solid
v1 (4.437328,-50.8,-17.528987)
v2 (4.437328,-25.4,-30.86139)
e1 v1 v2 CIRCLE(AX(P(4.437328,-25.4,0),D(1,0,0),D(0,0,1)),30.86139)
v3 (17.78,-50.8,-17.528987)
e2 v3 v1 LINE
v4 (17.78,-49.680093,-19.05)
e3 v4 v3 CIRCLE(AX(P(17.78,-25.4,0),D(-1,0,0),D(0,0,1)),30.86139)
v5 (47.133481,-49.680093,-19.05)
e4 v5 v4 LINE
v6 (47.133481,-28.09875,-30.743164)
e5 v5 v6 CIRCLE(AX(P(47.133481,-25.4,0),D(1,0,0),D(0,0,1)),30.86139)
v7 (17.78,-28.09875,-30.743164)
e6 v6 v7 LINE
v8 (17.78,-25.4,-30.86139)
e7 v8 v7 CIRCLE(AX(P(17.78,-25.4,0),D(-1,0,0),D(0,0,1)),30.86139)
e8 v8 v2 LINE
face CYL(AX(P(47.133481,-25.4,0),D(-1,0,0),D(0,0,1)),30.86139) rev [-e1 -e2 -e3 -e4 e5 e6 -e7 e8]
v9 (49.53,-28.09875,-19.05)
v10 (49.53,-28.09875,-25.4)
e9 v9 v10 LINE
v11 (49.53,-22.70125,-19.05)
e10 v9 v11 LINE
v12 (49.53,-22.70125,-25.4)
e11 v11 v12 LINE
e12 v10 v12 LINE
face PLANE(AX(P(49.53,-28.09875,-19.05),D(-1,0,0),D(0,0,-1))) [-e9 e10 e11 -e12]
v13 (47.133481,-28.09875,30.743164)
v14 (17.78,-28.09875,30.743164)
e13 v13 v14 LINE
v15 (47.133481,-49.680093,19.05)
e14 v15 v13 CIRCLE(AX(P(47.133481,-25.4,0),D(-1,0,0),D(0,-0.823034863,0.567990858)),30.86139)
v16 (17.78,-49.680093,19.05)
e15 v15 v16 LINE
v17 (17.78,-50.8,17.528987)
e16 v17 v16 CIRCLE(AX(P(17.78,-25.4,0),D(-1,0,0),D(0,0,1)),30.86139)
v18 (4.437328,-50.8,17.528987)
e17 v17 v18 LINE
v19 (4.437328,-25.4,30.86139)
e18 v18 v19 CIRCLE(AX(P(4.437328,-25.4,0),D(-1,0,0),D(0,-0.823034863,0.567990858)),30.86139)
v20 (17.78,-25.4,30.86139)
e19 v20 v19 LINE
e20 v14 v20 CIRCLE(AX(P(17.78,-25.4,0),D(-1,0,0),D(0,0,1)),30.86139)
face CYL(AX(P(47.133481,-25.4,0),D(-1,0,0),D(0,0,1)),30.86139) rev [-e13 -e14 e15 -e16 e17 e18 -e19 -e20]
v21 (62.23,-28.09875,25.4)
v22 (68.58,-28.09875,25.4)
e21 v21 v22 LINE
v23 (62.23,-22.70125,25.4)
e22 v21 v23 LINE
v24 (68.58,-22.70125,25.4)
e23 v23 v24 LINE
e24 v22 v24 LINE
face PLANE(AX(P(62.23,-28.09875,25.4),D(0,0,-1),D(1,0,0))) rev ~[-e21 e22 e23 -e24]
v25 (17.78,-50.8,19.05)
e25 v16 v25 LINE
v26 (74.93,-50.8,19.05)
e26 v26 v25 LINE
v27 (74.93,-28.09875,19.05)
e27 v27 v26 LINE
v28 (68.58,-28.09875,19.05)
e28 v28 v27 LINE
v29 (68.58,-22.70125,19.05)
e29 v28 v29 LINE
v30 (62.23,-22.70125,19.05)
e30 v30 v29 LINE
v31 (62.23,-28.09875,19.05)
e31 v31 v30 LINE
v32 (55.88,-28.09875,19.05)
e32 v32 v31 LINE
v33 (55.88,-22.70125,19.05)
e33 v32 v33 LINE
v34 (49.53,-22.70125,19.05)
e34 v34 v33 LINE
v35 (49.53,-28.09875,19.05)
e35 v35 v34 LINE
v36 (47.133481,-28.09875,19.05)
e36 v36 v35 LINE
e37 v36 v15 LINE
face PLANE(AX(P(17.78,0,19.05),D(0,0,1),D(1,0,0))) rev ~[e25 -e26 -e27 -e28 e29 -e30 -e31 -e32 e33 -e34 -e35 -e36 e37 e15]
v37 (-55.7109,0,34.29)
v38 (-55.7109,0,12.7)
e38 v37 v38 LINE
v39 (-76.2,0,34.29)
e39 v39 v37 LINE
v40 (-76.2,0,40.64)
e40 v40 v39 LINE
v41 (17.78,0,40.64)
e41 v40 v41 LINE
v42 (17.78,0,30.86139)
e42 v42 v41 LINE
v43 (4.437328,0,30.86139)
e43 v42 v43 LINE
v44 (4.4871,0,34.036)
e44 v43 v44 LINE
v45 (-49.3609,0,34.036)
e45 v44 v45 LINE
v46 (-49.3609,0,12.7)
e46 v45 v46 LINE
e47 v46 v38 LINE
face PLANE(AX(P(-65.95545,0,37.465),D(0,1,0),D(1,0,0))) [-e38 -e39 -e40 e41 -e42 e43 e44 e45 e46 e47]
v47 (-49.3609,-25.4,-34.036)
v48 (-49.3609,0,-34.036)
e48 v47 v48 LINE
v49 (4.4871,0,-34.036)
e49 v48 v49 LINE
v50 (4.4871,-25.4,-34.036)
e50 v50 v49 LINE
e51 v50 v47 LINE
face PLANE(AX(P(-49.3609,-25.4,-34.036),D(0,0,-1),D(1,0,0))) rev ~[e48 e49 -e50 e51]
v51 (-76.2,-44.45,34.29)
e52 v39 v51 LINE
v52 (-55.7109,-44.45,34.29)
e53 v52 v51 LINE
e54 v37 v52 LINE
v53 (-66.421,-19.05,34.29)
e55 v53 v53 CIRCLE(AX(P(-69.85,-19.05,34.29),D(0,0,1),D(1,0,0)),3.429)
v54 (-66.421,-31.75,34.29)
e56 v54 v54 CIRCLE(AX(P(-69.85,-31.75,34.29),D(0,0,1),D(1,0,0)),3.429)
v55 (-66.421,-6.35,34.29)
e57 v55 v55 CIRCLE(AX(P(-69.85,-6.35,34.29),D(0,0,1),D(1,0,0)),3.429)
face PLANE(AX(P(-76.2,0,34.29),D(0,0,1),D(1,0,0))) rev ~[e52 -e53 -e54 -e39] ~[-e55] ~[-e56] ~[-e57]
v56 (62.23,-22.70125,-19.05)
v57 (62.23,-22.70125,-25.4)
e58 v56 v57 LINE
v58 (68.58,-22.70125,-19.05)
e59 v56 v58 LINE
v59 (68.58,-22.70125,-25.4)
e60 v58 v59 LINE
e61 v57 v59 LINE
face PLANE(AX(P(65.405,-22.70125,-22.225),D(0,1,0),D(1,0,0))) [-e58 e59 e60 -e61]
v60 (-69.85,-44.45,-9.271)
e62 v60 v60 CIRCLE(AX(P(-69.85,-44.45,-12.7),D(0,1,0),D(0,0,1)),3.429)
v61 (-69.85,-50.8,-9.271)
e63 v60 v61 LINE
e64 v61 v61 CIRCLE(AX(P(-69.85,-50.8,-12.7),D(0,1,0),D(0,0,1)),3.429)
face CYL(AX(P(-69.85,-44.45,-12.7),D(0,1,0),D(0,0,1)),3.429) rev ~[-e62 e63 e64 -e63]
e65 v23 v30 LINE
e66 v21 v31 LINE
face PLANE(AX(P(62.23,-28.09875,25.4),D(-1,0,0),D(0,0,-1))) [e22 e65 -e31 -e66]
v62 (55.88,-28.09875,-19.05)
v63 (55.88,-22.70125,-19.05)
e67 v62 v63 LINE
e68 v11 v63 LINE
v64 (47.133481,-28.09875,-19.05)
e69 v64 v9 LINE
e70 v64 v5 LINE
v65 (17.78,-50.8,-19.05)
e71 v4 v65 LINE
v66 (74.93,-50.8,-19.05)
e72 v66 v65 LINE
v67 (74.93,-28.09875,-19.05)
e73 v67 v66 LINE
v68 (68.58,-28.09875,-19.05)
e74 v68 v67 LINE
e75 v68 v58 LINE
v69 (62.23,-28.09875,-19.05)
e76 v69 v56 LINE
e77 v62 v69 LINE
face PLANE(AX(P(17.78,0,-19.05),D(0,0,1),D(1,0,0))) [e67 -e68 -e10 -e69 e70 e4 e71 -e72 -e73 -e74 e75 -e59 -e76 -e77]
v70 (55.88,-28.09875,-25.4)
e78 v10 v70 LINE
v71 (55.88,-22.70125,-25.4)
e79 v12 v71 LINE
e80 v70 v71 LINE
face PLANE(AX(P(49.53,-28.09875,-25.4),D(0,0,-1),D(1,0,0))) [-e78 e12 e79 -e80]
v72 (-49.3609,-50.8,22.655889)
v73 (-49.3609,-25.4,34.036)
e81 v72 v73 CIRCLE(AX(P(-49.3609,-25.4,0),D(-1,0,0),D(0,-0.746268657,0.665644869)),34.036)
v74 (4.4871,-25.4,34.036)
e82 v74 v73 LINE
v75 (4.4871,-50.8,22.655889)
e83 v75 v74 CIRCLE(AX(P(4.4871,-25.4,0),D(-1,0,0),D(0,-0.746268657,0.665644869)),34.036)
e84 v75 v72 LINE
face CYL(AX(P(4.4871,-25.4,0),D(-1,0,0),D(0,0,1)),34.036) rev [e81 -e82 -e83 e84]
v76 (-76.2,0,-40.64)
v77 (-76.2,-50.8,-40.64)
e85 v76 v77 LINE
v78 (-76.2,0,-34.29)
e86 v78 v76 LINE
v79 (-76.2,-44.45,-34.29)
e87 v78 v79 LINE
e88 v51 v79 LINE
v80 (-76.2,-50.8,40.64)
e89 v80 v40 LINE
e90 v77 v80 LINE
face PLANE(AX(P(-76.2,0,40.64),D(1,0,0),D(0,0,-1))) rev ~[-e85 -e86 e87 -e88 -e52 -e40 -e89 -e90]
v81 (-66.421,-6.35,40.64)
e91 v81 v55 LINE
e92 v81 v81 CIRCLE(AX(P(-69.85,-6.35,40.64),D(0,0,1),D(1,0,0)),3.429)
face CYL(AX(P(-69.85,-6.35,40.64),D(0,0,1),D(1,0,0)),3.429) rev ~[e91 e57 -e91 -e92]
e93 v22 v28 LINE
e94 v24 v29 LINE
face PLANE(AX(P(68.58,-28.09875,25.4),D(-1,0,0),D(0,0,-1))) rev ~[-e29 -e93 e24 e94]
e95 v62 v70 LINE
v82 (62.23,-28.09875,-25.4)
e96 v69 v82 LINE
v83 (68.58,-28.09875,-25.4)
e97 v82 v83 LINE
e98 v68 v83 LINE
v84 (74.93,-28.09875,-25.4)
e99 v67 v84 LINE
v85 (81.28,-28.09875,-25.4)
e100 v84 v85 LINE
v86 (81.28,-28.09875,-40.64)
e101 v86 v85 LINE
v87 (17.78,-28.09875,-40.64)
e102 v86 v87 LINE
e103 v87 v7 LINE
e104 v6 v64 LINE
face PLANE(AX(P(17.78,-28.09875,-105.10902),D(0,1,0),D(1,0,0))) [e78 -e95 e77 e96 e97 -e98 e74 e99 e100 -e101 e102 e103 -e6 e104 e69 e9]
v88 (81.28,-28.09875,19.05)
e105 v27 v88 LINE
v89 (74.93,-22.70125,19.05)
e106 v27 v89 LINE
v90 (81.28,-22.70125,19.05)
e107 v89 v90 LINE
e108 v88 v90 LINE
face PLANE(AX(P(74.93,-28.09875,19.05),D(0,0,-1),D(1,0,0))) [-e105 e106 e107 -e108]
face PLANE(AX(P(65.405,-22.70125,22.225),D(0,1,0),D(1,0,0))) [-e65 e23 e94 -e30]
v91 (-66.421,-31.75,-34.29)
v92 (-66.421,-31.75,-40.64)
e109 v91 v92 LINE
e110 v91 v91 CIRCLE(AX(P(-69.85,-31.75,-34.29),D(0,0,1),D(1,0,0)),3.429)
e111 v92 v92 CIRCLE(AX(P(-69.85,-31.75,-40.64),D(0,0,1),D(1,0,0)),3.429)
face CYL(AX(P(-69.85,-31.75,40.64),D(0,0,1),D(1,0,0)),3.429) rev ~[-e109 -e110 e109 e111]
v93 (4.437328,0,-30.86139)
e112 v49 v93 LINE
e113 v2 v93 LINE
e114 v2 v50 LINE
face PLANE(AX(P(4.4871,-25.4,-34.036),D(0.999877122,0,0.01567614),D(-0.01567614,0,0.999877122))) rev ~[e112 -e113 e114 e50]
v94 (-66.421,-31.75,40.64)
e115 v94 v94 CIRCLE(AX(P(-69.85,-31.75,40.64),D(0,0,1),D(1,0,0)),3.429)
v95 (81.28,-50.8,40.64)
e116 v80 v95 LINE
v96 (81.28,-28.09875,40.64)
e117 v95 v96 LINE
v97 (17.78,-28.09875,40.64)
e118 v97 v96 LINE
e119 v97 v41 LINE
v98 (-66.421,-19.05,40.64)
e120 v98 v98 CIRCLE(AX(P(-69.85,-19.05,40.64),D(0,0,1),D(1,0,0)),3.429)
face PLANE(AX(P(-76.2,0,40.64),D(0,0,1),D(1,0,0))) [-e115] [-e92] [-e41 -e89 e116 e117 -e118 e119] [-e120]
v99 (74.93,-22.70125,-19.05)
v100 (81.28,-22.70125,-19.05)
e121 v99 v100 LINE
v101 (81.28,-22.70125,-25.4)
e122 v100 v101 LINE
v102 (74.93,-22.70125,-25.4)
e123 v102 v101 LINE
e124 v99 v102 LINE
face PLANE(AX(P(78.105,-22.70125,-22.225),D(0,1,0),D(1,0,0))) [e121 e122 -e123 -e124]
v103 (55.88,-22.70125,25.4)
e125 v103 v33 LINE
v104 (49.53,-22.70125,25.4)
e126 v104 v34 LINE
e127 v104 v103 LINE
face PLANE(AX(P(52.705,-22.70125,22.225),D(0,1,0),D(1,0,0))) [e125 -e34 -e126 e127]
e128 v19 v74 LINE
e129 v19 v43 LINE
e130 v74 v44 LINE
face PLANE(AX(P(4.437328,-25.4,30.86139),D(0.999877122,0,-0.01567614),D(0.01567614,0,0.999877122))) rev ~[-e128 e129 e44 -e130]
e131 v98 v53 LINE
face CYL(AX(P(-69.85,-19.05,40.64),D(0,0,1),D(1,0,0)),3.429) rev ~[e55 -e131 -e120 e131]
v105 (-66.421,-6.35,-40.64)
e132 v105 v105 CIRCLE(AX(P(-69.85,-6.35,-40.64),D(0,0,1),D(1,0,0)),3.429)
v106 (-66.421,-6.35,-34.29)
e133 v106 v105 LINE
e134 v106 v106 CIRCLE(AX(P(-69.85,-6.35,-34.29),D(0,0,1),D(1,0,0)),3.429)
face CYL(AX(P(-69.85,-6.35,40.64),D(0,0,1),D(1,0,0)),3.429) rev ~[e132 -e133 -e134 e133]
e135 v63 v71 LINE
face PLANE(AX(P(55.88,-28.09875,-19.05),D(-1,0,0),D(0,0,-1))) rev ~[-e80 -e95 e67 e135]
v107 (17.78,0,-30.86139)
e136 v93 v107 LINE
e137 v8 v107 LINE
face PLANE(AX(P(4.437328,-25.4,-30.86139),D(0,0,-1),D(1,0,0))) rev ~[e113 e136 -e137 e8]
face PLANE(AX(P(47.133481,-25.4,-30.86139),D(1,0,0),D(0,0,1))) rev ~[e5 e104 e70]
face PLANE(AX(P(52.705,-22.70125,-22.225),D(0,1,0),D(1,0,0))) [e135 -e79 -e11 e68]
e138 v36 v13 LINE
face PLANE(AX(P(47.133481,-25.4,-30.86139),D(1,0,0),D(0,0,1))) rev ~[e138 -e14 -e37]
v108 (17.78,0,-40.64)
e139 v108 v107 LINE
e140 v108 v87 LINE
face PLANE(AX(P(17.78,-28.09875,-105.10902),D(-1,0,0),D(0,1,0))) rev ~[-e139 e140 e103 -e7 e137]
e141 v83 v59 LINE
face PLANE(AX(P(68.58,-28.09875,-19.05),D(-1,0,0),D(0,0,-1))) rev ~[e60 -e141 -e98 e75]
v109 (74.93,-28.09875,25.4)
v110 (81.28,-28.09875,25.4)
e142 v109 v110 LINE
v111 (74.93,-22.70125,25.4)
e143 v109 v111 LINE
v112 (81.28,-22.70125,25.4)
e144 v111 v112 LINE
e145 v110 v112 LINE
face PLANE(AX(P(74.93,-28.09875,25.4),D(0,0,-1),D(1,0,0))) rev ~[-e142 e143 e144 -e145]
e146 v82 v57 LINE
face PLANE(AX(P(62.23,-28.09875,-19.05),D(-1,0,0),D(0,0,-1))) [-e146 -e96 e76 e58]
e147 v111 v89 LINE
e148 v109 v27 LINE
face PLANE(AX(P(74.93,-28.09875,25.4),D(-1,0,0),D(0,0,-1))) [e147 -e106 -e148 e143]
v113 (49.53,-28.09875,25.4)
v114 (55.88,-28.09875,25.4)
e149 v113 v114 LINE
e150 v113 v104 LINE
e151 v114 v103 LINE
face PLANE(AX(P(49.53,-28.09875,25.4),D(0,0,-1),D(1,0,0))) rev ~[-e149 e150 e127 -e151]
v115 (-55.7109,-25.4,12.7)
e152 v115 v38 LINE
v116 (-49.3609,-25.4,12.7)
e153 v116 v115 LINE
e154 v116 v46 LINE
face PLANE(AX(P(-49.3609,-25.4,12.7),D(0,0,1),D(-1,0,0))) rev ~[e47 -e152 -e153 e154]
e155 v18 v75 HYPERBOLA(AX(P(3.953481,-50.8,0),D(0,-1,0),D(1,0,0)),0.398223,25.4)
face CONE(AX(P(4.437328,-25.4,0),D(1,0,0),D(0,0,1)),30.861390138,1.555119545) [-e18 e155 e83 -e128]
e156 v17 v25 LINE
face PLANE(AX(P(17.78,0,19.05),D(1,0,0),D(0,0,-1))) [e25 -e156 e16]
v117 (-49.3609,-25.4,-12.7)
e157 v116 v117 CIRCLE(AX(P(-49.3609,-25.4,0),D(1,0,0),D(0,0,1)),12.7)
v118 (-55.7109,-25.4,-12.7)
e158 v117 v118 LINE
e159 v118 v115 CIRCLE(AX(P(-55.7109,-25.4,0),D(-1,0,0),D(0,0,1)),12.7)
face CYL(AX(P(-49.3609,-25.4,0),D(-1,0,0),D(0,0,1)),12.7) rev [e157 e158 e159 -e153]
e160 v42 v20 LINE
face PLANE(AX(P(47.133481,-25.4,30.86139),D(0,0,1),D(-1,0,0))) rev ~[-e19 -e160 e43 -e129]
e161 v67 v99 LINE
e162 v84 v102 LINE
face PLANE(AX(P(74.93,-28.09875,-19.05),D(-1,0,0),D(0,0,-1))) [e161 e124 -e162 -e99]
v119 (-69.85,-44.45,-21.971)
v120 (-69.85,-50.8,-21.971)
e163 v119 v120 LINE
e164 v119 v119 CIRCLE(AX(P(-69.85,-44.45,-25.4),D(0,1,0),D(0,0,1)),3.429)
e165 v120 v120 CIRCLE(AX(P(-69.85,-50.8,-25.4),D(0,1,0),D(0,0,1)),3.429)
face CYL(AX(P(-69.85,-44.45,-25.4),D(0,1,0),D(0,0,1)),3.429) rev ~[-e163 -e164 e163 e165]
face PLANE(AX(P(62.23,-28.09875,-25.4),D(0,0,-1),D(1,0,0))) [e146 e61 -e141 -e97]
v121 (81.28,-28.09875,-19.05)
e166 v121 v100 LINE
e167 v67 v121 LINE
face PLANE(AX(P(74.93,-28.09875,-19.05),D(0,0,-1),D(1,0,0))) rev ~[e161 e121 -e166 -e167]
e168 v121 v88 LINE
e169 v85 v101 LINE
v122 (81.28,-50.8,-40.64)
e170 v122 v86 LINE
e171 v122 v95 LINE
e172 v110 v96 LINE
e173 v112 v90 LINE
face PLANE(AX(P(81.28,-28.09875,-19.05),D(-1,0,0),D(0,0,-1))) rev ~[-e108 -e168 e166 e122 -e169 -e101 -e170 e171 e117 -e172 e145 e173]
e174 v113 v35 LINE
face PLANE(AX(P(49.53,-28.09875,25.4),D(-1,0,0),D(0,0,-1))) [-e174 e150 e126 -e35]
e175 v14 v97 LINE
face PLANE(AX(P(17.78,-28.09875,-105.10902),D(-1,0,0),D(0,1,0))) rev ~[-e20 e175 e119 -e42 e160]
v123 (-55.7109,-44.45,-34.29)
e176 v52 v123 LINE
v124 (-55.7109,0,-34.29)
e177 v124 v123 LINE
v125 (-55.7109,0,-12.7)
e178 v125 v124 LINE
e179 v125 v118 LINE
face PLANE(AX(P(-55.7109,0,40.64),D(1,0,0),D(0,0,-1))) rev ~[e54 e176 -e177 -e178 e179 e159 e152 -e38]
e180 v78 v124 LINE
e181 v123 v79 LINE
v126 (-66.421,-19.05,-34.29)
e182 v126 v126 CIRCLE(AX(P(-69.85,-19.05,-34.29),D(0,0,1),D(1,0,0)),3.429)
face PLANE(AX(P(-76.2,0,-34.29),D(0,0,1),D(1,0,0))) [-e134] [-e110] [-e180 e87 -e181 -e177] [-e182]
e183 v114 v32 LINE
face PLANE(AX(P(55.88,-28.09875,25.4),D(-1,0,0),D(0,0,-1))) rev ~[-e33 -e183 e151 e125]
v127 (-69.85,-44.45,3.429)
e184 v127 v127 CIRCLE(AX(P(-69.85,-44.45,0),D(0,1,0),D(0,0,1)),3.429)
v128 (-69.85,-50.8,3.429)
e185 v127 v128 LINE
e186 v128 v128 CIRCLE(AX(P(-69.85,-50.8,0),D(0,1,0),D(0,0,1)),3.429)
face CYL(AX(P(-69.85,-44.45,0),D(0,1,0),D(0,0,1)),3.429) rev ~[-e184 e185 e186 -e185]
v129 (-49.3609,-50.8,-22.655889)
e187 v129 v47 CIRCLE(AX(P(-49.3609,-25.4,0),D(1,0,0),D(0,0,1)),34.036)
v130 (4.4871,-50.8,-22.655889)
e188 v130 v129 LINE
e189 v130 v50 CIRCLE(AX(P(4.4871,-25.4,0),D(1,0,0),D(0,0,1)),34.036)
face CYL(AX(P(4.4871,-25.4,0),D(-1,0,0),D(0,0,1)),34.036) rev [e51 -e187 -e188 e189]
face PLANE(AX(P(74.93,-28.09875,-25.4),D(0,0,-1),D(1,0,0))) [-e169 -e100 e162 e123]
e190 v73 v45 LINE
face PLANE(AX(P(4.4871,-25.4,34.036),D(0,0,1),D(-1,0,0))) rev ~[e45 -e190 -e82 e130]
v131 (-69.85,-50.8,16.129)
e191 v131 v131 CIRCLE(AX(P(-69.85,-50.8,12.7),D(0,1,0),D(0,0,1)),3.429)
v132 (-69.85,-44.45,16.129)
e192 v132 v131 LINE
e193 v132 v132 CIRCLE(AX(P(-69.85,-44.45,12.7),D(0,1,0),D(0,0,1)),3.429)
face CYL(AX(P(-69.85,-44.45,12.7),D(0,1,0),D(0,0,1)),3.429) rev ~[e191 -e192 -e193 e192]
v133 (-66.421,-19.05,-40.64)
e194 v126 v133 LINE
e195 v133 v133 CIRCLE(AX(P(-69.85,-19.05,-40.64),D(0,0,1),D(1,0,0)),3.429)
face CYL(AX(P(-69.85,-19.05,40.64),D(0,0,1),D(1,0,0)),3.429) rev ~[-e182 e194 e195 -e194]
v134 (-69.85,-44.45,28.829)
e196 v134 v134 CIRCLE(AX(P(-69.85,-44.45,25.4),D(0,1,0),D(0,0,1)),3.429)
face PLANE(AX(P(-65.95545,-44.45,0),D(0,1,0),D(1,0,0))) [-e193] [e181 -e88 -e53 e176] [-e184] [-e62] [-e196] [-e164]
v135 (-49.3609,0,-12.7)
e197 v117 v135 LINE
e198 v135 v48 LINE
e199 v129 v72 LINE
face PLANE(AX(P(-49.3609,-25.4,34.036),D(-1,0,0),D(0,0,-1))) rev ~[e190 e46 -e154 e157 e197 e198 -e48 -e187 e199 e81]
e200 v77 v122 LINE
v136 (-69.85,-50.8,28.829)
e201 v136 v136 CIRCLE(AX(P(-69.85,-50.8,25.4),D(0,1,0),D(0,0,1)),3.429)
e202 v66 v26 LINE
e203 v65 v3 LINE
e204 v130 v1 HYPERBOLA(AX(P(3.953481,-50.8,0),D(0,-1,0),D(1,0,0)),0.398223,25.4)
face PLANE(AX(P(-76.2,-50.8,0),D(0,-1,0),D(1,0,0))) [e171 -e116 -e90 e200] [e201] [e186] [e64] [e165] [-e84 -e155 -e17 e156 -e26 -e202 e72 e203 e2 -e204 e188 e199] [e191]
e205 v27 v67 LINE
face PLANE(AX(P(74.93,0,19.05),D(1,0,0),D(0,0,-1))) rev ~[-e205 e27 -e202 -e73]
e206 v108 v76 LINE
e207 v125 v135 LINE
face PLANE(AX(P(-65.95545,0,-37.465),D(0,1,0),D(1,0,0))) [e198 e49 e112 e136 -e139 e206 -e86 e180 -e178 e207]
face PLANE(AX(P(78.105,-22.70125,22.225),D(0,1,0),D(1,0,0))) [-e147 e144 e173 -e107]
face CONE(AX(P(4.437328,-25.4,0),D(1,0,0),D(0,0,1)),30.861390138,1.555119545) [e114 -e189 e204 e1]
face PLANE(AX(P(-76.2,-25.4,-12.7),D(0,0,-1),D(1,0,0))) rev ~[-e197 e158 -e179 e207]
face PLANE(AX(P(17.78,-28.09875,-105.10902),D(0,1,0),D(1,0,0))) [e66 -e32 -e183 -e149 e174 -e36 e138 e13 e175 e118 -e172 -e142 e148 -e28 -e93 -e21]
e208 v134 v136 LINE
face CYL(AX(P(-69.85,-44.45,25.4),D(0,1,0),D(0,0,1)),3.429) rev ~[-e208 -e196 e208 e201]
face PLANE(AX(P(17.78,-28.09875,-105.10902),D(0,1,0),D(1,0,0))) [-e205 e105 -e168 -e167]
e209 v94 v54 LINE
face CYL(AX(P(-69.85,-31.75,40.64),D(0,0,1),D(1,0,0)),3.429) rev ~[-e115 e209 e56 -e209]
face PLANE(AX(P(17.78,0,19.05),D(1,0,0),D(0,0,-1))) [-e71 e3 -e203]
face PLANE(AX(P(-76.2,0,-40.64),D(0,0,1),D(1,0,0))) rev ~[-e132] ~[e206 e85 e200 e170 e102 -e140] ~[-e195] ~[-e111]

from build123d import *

# Parameters (mm, degrees)
SKETCH1_W                = 157.48
SKETCH1_H                = 50.8
BOSS_EXTRUDE1_DEPTH      = 40.64
SKETCH37_W               = 81.28
SKETCH37_H               = 25.4
CUT_EXTRUDE32_DEPTH      = 171.388379885
BOSS_EXTRUDE5_DEPTH      = 25.4
CUT_EXTRUDE54_DEPTH      = 105.109019782
CUT_EXTRUDE54_DEPTH_BACK = 105.109019782
SKETCH45_W               = 63.5
SKETCH45_H               = 28.09875
SKETCH97_W               = 20.4891
SKETCH97_H               = 81.28
CUT_EXTRUDE72_DEPTH      = 44.45
SKETCH98_R               = 3.429
CUT_EXTRUDE73_DEPTH      = 102.162495521
SKETCH99_W               = 57.15
SKETCH99_H               = 38.1
CUT_EXTRUDE74_DEPTH      = 105.109019782
SKETCH101_W              = 6.35
SKETCH101_H              = 6.35
BOSS_EXTRUDE7_DEPTH      = 5.3975
BOSS_EXTRUDE8_REACH      = 106.109
SKETCH102_W              = 20.4891
SKETCH102_H              = 6.35
SKETCH103_R              = 3.429
CUT_EXTRUDE75_DEPTH      = 126.672259469


with BuildPart() as part:
    # Sketch1 → Boss-Extrude1 (new, symmetric)
    with BuildSketch(Plane.XY):
        with Locations((2.54, -25.4)):
            Rectangle(SKETCH1_W, SKETCH1_H)
    extrude(amount=BOSS_EXTRUDE1_DEPTH, both=True)

    # Sketch2 → Cut-Revolve1 (revolve, cut)
    with BuildSketch(Plane.XY, mode=Mode.PRIVATE) as cut_revolve1_sk:
        Polygon((-49.3609, 8.636), (-49.3609, -12.7), (-76.2, -12.7), (-76.2, -25.4), (19.629439755, -25.4), (72.533481331, -25.4), (72.533481331, -15.494), (47.133481331, -15.494), (47.133481331, 5.461390138), (4.437328256, 5.461390138), (4.4871, 8.636), align=None)
    revolve(cut_revolve1_sk.sketch.rotate(Axis((-607.361866059, -25.4, 0), (1, 0, 0)), 90), axis=Axis((-607.361866059, -25.4, 0), (1, 0, 0)), mode=Mode.SUBTRACT)

    # Sketch37 → Cut-Extrude32 (cut, through all)
    with BuildSketch(Plane(origin=(81.28, 0, 0), x_dir=(0, 0, -1), z_dir=(1, 0, 0))):
        with Locations((0, -12.7)):
            Rectangle(SKETCH37_W, SKETCH37_H)
    extrude(amount=-CUT_EXTRUDE32_DEPTH, mode=Mode.SUBTRACT)

    # Sketch39 → Boss-Extrude5 (add)
    with BuildSketch(Plane(origin=(0, -25.4, 0), x_dir=(1, 0, 0), z_dir=(0, 1, 0))):
        Polygon((-49.3609, -12.7), (-76.2, -12.7), (-76.2, -40.64), (81.28, -40.64), (81.28, 40.64), (-76.2, 40.64), (-76.2, 12.7), (-49.3609, 12.7), (-49.3609, 34.036), (4.4871, 34.036), (4.437328256, 30.861390138), (47.133481331, 30.861390138), (47.133481331, 9.906), (72.533481331, 9.906), (72.533481331, -9.906), (47.133481331, -9.906), (47.133481331, -30.861390138), (4.437328256, -30.861390138), (4.4871, -34.036), (-49.3609, -34.036), align=None)
    extrude(amount=BOSS_EXTRUDE5_DEPTH)

    # Sketch45 → Cut-Extrude54 (cut, two sides: drawn at the far end of the back side and taken through both)
    with BuildSketch(Plane.XY.offset(-CUT_EXTRUDE54_DEPTH_BACK)):
        with Locations((49.53, -14.049375)):
            Rectangle(SKETCH45_W, SKETCH45_H)
    extrude(amount=CUT_EXTRUDE54_DEPTH + CUT_EXTRUDE54_DEPTH_BACK, mode=Mode.SUBTRACT)

    # Sketch97 → Cut-Extrude72 (cut)
    with BuildSketch(Plane(origin=(0, 0, 0), x_dir=(1, 0, 0), z_dir=(0, 1, 0))):
        with Locations((-65.95545, 0)):
            Rectangle(SKETCH97_W, SKETCH97_H)
    extrude(amount=-CUT_EXTRUDE72_DEPTH, mode=Mode.SUBTRACT)

    # Sketch98 → Cut-Extrude73 (cut, through all)
    with BuildSketch(Plane(origin=(0, -44.45, 0), x_dir=(1, 0, 0), z_dir=(0, 1, 0))):
        with Locations(Location((-69.85, 25.4, 0), (0, 0, 270))):
            Circle(SKETCH98_R)
        with Locations(Location((-69.85, 12.7, 0), (0, 0, 270))):
            Circle(SKETCH98_R)
        with Locations(Location((-69.85, 0, 0), (0, 0, 270))):
            Circle(SKETCH98_R)
        with Locations(Location((-69.85, -12.7, 0), (0, 0, 270))):
            Circle(SKETCH98_R)
        with Locations(Location((-69.85, -25.4, 0), (0, 0, 270))):
            Circle(SKETCH98_R)
    extrude(amount=-CUT_EXTRUDE73_DEPTH, mode=Mode.SUBTRACT)

    # Sketch99 → Cut-Extrude74 (cut, through all)
    with BuildSketch(Plane(origin=(0, 0, 0), x_dir=(1, 0, 0), z_dir=(0, 1, 0))):
        with Locations((46.355, 0)):
            Rectangle(SKETCH99_W, SKETCH99_H)
    extrude(amount=-CUT_EXTRUDE74_DEPTH, mode=Mode.SUBTRACT)

    # Sketch101 → Boss-Extrude7 (add)
    with BuildSketch(Plane(origin=(0, -28.09875, 0), x_dir=(1, 0, 0), z_dir=(0, 1, 0))):
        with Locations((52.705, 22.225)):
            Rectangle(SKETCH101_W, SKETCH101_H)
        with Locations((65.405, 22.225)):
            Rectangle(SKETCH101_W, SKETCH101_H)
        with Locations((78.105, 22.225)):
            Rectangle(SKETCH101_W, SKETCH101_H)
        with Locations((78.105, -22.225)):
            Rectangle(SKETCH101_W, SKETCH101_H)
        with Locations((65.405, -22.225)):
            Rectangle(SKETCH101_W, SKETCH101_H)
        with Locations((52.705, -22.225)):
            Rectangle(SKETCH101_W, SKETCH101_H)
    extrude(amount=BOSS_EXTRUDE7_DEPTH)

    # Sketch102 → Boss-Extrude8 (add, up to next)
    with BuildSketch(Plane(origin=(0, 0, 0), x_dir=(1, 0, 0), z_dir=(0, 1, 0)), mode=Mode.PRIVATE) as boss_extrude8_sk1:
        with Locations((-65.95545, 37.465)):
            Rectangle(SKETCH102_W, SKETCH102_H)
    boss_extrude8_tool1 = extrude(boss_extrude8_sk1.sketch, amount=-BOSS_EXTRUDE8_REACH, mode=Mode.PRIVATE) - part.part
    # Sketch102 → Boss-Extrude8 (add, up to next)
    with BuildSketch(Plane(origin=(0, 0, 0), x_dir=(1, 0, 0), z_dir=(0, 1, 0)), mode=Mode.PRIVATE) as boss_extrude8_sk2:
        with Locations((-65.95545, -37.465)):
            Rectangle(SKETCH102_W, SKETCH102_H)
    boss_extrude8_tool2 = extrude(boss_extrude8_sk2.sketch, amount=-BOSS_EXTRUDE8_REACH, mode=Mode.PRIVATE) - part.part
    add(boss_extrude8_tool1.solids().sort_by_distance((-65.95545, 0, -37.465))[0])
    add(boss_extrude8_tool2.solids().sort_by_distance((-65.95545, 0, 37.465))[0])

    # Sketch103 → Cut-Extrude75 (cut, through all)
    with BuildSketch(Plane.XY.offset(40.64)):
        with Locations((-69.85, -6.35)):
            Circle(SKETCH103_R)
        with Locations((-69.85, -19.05)):
            Circle(SKETCH103_R)
        with Locations((-69.85, -31.75)):
            Circle(SKETCH103_R)
    extrude(amount=-CUT_EXTRUDE75_DEPTH, mode=Mode.SUBTRACT)


solid = part.part
